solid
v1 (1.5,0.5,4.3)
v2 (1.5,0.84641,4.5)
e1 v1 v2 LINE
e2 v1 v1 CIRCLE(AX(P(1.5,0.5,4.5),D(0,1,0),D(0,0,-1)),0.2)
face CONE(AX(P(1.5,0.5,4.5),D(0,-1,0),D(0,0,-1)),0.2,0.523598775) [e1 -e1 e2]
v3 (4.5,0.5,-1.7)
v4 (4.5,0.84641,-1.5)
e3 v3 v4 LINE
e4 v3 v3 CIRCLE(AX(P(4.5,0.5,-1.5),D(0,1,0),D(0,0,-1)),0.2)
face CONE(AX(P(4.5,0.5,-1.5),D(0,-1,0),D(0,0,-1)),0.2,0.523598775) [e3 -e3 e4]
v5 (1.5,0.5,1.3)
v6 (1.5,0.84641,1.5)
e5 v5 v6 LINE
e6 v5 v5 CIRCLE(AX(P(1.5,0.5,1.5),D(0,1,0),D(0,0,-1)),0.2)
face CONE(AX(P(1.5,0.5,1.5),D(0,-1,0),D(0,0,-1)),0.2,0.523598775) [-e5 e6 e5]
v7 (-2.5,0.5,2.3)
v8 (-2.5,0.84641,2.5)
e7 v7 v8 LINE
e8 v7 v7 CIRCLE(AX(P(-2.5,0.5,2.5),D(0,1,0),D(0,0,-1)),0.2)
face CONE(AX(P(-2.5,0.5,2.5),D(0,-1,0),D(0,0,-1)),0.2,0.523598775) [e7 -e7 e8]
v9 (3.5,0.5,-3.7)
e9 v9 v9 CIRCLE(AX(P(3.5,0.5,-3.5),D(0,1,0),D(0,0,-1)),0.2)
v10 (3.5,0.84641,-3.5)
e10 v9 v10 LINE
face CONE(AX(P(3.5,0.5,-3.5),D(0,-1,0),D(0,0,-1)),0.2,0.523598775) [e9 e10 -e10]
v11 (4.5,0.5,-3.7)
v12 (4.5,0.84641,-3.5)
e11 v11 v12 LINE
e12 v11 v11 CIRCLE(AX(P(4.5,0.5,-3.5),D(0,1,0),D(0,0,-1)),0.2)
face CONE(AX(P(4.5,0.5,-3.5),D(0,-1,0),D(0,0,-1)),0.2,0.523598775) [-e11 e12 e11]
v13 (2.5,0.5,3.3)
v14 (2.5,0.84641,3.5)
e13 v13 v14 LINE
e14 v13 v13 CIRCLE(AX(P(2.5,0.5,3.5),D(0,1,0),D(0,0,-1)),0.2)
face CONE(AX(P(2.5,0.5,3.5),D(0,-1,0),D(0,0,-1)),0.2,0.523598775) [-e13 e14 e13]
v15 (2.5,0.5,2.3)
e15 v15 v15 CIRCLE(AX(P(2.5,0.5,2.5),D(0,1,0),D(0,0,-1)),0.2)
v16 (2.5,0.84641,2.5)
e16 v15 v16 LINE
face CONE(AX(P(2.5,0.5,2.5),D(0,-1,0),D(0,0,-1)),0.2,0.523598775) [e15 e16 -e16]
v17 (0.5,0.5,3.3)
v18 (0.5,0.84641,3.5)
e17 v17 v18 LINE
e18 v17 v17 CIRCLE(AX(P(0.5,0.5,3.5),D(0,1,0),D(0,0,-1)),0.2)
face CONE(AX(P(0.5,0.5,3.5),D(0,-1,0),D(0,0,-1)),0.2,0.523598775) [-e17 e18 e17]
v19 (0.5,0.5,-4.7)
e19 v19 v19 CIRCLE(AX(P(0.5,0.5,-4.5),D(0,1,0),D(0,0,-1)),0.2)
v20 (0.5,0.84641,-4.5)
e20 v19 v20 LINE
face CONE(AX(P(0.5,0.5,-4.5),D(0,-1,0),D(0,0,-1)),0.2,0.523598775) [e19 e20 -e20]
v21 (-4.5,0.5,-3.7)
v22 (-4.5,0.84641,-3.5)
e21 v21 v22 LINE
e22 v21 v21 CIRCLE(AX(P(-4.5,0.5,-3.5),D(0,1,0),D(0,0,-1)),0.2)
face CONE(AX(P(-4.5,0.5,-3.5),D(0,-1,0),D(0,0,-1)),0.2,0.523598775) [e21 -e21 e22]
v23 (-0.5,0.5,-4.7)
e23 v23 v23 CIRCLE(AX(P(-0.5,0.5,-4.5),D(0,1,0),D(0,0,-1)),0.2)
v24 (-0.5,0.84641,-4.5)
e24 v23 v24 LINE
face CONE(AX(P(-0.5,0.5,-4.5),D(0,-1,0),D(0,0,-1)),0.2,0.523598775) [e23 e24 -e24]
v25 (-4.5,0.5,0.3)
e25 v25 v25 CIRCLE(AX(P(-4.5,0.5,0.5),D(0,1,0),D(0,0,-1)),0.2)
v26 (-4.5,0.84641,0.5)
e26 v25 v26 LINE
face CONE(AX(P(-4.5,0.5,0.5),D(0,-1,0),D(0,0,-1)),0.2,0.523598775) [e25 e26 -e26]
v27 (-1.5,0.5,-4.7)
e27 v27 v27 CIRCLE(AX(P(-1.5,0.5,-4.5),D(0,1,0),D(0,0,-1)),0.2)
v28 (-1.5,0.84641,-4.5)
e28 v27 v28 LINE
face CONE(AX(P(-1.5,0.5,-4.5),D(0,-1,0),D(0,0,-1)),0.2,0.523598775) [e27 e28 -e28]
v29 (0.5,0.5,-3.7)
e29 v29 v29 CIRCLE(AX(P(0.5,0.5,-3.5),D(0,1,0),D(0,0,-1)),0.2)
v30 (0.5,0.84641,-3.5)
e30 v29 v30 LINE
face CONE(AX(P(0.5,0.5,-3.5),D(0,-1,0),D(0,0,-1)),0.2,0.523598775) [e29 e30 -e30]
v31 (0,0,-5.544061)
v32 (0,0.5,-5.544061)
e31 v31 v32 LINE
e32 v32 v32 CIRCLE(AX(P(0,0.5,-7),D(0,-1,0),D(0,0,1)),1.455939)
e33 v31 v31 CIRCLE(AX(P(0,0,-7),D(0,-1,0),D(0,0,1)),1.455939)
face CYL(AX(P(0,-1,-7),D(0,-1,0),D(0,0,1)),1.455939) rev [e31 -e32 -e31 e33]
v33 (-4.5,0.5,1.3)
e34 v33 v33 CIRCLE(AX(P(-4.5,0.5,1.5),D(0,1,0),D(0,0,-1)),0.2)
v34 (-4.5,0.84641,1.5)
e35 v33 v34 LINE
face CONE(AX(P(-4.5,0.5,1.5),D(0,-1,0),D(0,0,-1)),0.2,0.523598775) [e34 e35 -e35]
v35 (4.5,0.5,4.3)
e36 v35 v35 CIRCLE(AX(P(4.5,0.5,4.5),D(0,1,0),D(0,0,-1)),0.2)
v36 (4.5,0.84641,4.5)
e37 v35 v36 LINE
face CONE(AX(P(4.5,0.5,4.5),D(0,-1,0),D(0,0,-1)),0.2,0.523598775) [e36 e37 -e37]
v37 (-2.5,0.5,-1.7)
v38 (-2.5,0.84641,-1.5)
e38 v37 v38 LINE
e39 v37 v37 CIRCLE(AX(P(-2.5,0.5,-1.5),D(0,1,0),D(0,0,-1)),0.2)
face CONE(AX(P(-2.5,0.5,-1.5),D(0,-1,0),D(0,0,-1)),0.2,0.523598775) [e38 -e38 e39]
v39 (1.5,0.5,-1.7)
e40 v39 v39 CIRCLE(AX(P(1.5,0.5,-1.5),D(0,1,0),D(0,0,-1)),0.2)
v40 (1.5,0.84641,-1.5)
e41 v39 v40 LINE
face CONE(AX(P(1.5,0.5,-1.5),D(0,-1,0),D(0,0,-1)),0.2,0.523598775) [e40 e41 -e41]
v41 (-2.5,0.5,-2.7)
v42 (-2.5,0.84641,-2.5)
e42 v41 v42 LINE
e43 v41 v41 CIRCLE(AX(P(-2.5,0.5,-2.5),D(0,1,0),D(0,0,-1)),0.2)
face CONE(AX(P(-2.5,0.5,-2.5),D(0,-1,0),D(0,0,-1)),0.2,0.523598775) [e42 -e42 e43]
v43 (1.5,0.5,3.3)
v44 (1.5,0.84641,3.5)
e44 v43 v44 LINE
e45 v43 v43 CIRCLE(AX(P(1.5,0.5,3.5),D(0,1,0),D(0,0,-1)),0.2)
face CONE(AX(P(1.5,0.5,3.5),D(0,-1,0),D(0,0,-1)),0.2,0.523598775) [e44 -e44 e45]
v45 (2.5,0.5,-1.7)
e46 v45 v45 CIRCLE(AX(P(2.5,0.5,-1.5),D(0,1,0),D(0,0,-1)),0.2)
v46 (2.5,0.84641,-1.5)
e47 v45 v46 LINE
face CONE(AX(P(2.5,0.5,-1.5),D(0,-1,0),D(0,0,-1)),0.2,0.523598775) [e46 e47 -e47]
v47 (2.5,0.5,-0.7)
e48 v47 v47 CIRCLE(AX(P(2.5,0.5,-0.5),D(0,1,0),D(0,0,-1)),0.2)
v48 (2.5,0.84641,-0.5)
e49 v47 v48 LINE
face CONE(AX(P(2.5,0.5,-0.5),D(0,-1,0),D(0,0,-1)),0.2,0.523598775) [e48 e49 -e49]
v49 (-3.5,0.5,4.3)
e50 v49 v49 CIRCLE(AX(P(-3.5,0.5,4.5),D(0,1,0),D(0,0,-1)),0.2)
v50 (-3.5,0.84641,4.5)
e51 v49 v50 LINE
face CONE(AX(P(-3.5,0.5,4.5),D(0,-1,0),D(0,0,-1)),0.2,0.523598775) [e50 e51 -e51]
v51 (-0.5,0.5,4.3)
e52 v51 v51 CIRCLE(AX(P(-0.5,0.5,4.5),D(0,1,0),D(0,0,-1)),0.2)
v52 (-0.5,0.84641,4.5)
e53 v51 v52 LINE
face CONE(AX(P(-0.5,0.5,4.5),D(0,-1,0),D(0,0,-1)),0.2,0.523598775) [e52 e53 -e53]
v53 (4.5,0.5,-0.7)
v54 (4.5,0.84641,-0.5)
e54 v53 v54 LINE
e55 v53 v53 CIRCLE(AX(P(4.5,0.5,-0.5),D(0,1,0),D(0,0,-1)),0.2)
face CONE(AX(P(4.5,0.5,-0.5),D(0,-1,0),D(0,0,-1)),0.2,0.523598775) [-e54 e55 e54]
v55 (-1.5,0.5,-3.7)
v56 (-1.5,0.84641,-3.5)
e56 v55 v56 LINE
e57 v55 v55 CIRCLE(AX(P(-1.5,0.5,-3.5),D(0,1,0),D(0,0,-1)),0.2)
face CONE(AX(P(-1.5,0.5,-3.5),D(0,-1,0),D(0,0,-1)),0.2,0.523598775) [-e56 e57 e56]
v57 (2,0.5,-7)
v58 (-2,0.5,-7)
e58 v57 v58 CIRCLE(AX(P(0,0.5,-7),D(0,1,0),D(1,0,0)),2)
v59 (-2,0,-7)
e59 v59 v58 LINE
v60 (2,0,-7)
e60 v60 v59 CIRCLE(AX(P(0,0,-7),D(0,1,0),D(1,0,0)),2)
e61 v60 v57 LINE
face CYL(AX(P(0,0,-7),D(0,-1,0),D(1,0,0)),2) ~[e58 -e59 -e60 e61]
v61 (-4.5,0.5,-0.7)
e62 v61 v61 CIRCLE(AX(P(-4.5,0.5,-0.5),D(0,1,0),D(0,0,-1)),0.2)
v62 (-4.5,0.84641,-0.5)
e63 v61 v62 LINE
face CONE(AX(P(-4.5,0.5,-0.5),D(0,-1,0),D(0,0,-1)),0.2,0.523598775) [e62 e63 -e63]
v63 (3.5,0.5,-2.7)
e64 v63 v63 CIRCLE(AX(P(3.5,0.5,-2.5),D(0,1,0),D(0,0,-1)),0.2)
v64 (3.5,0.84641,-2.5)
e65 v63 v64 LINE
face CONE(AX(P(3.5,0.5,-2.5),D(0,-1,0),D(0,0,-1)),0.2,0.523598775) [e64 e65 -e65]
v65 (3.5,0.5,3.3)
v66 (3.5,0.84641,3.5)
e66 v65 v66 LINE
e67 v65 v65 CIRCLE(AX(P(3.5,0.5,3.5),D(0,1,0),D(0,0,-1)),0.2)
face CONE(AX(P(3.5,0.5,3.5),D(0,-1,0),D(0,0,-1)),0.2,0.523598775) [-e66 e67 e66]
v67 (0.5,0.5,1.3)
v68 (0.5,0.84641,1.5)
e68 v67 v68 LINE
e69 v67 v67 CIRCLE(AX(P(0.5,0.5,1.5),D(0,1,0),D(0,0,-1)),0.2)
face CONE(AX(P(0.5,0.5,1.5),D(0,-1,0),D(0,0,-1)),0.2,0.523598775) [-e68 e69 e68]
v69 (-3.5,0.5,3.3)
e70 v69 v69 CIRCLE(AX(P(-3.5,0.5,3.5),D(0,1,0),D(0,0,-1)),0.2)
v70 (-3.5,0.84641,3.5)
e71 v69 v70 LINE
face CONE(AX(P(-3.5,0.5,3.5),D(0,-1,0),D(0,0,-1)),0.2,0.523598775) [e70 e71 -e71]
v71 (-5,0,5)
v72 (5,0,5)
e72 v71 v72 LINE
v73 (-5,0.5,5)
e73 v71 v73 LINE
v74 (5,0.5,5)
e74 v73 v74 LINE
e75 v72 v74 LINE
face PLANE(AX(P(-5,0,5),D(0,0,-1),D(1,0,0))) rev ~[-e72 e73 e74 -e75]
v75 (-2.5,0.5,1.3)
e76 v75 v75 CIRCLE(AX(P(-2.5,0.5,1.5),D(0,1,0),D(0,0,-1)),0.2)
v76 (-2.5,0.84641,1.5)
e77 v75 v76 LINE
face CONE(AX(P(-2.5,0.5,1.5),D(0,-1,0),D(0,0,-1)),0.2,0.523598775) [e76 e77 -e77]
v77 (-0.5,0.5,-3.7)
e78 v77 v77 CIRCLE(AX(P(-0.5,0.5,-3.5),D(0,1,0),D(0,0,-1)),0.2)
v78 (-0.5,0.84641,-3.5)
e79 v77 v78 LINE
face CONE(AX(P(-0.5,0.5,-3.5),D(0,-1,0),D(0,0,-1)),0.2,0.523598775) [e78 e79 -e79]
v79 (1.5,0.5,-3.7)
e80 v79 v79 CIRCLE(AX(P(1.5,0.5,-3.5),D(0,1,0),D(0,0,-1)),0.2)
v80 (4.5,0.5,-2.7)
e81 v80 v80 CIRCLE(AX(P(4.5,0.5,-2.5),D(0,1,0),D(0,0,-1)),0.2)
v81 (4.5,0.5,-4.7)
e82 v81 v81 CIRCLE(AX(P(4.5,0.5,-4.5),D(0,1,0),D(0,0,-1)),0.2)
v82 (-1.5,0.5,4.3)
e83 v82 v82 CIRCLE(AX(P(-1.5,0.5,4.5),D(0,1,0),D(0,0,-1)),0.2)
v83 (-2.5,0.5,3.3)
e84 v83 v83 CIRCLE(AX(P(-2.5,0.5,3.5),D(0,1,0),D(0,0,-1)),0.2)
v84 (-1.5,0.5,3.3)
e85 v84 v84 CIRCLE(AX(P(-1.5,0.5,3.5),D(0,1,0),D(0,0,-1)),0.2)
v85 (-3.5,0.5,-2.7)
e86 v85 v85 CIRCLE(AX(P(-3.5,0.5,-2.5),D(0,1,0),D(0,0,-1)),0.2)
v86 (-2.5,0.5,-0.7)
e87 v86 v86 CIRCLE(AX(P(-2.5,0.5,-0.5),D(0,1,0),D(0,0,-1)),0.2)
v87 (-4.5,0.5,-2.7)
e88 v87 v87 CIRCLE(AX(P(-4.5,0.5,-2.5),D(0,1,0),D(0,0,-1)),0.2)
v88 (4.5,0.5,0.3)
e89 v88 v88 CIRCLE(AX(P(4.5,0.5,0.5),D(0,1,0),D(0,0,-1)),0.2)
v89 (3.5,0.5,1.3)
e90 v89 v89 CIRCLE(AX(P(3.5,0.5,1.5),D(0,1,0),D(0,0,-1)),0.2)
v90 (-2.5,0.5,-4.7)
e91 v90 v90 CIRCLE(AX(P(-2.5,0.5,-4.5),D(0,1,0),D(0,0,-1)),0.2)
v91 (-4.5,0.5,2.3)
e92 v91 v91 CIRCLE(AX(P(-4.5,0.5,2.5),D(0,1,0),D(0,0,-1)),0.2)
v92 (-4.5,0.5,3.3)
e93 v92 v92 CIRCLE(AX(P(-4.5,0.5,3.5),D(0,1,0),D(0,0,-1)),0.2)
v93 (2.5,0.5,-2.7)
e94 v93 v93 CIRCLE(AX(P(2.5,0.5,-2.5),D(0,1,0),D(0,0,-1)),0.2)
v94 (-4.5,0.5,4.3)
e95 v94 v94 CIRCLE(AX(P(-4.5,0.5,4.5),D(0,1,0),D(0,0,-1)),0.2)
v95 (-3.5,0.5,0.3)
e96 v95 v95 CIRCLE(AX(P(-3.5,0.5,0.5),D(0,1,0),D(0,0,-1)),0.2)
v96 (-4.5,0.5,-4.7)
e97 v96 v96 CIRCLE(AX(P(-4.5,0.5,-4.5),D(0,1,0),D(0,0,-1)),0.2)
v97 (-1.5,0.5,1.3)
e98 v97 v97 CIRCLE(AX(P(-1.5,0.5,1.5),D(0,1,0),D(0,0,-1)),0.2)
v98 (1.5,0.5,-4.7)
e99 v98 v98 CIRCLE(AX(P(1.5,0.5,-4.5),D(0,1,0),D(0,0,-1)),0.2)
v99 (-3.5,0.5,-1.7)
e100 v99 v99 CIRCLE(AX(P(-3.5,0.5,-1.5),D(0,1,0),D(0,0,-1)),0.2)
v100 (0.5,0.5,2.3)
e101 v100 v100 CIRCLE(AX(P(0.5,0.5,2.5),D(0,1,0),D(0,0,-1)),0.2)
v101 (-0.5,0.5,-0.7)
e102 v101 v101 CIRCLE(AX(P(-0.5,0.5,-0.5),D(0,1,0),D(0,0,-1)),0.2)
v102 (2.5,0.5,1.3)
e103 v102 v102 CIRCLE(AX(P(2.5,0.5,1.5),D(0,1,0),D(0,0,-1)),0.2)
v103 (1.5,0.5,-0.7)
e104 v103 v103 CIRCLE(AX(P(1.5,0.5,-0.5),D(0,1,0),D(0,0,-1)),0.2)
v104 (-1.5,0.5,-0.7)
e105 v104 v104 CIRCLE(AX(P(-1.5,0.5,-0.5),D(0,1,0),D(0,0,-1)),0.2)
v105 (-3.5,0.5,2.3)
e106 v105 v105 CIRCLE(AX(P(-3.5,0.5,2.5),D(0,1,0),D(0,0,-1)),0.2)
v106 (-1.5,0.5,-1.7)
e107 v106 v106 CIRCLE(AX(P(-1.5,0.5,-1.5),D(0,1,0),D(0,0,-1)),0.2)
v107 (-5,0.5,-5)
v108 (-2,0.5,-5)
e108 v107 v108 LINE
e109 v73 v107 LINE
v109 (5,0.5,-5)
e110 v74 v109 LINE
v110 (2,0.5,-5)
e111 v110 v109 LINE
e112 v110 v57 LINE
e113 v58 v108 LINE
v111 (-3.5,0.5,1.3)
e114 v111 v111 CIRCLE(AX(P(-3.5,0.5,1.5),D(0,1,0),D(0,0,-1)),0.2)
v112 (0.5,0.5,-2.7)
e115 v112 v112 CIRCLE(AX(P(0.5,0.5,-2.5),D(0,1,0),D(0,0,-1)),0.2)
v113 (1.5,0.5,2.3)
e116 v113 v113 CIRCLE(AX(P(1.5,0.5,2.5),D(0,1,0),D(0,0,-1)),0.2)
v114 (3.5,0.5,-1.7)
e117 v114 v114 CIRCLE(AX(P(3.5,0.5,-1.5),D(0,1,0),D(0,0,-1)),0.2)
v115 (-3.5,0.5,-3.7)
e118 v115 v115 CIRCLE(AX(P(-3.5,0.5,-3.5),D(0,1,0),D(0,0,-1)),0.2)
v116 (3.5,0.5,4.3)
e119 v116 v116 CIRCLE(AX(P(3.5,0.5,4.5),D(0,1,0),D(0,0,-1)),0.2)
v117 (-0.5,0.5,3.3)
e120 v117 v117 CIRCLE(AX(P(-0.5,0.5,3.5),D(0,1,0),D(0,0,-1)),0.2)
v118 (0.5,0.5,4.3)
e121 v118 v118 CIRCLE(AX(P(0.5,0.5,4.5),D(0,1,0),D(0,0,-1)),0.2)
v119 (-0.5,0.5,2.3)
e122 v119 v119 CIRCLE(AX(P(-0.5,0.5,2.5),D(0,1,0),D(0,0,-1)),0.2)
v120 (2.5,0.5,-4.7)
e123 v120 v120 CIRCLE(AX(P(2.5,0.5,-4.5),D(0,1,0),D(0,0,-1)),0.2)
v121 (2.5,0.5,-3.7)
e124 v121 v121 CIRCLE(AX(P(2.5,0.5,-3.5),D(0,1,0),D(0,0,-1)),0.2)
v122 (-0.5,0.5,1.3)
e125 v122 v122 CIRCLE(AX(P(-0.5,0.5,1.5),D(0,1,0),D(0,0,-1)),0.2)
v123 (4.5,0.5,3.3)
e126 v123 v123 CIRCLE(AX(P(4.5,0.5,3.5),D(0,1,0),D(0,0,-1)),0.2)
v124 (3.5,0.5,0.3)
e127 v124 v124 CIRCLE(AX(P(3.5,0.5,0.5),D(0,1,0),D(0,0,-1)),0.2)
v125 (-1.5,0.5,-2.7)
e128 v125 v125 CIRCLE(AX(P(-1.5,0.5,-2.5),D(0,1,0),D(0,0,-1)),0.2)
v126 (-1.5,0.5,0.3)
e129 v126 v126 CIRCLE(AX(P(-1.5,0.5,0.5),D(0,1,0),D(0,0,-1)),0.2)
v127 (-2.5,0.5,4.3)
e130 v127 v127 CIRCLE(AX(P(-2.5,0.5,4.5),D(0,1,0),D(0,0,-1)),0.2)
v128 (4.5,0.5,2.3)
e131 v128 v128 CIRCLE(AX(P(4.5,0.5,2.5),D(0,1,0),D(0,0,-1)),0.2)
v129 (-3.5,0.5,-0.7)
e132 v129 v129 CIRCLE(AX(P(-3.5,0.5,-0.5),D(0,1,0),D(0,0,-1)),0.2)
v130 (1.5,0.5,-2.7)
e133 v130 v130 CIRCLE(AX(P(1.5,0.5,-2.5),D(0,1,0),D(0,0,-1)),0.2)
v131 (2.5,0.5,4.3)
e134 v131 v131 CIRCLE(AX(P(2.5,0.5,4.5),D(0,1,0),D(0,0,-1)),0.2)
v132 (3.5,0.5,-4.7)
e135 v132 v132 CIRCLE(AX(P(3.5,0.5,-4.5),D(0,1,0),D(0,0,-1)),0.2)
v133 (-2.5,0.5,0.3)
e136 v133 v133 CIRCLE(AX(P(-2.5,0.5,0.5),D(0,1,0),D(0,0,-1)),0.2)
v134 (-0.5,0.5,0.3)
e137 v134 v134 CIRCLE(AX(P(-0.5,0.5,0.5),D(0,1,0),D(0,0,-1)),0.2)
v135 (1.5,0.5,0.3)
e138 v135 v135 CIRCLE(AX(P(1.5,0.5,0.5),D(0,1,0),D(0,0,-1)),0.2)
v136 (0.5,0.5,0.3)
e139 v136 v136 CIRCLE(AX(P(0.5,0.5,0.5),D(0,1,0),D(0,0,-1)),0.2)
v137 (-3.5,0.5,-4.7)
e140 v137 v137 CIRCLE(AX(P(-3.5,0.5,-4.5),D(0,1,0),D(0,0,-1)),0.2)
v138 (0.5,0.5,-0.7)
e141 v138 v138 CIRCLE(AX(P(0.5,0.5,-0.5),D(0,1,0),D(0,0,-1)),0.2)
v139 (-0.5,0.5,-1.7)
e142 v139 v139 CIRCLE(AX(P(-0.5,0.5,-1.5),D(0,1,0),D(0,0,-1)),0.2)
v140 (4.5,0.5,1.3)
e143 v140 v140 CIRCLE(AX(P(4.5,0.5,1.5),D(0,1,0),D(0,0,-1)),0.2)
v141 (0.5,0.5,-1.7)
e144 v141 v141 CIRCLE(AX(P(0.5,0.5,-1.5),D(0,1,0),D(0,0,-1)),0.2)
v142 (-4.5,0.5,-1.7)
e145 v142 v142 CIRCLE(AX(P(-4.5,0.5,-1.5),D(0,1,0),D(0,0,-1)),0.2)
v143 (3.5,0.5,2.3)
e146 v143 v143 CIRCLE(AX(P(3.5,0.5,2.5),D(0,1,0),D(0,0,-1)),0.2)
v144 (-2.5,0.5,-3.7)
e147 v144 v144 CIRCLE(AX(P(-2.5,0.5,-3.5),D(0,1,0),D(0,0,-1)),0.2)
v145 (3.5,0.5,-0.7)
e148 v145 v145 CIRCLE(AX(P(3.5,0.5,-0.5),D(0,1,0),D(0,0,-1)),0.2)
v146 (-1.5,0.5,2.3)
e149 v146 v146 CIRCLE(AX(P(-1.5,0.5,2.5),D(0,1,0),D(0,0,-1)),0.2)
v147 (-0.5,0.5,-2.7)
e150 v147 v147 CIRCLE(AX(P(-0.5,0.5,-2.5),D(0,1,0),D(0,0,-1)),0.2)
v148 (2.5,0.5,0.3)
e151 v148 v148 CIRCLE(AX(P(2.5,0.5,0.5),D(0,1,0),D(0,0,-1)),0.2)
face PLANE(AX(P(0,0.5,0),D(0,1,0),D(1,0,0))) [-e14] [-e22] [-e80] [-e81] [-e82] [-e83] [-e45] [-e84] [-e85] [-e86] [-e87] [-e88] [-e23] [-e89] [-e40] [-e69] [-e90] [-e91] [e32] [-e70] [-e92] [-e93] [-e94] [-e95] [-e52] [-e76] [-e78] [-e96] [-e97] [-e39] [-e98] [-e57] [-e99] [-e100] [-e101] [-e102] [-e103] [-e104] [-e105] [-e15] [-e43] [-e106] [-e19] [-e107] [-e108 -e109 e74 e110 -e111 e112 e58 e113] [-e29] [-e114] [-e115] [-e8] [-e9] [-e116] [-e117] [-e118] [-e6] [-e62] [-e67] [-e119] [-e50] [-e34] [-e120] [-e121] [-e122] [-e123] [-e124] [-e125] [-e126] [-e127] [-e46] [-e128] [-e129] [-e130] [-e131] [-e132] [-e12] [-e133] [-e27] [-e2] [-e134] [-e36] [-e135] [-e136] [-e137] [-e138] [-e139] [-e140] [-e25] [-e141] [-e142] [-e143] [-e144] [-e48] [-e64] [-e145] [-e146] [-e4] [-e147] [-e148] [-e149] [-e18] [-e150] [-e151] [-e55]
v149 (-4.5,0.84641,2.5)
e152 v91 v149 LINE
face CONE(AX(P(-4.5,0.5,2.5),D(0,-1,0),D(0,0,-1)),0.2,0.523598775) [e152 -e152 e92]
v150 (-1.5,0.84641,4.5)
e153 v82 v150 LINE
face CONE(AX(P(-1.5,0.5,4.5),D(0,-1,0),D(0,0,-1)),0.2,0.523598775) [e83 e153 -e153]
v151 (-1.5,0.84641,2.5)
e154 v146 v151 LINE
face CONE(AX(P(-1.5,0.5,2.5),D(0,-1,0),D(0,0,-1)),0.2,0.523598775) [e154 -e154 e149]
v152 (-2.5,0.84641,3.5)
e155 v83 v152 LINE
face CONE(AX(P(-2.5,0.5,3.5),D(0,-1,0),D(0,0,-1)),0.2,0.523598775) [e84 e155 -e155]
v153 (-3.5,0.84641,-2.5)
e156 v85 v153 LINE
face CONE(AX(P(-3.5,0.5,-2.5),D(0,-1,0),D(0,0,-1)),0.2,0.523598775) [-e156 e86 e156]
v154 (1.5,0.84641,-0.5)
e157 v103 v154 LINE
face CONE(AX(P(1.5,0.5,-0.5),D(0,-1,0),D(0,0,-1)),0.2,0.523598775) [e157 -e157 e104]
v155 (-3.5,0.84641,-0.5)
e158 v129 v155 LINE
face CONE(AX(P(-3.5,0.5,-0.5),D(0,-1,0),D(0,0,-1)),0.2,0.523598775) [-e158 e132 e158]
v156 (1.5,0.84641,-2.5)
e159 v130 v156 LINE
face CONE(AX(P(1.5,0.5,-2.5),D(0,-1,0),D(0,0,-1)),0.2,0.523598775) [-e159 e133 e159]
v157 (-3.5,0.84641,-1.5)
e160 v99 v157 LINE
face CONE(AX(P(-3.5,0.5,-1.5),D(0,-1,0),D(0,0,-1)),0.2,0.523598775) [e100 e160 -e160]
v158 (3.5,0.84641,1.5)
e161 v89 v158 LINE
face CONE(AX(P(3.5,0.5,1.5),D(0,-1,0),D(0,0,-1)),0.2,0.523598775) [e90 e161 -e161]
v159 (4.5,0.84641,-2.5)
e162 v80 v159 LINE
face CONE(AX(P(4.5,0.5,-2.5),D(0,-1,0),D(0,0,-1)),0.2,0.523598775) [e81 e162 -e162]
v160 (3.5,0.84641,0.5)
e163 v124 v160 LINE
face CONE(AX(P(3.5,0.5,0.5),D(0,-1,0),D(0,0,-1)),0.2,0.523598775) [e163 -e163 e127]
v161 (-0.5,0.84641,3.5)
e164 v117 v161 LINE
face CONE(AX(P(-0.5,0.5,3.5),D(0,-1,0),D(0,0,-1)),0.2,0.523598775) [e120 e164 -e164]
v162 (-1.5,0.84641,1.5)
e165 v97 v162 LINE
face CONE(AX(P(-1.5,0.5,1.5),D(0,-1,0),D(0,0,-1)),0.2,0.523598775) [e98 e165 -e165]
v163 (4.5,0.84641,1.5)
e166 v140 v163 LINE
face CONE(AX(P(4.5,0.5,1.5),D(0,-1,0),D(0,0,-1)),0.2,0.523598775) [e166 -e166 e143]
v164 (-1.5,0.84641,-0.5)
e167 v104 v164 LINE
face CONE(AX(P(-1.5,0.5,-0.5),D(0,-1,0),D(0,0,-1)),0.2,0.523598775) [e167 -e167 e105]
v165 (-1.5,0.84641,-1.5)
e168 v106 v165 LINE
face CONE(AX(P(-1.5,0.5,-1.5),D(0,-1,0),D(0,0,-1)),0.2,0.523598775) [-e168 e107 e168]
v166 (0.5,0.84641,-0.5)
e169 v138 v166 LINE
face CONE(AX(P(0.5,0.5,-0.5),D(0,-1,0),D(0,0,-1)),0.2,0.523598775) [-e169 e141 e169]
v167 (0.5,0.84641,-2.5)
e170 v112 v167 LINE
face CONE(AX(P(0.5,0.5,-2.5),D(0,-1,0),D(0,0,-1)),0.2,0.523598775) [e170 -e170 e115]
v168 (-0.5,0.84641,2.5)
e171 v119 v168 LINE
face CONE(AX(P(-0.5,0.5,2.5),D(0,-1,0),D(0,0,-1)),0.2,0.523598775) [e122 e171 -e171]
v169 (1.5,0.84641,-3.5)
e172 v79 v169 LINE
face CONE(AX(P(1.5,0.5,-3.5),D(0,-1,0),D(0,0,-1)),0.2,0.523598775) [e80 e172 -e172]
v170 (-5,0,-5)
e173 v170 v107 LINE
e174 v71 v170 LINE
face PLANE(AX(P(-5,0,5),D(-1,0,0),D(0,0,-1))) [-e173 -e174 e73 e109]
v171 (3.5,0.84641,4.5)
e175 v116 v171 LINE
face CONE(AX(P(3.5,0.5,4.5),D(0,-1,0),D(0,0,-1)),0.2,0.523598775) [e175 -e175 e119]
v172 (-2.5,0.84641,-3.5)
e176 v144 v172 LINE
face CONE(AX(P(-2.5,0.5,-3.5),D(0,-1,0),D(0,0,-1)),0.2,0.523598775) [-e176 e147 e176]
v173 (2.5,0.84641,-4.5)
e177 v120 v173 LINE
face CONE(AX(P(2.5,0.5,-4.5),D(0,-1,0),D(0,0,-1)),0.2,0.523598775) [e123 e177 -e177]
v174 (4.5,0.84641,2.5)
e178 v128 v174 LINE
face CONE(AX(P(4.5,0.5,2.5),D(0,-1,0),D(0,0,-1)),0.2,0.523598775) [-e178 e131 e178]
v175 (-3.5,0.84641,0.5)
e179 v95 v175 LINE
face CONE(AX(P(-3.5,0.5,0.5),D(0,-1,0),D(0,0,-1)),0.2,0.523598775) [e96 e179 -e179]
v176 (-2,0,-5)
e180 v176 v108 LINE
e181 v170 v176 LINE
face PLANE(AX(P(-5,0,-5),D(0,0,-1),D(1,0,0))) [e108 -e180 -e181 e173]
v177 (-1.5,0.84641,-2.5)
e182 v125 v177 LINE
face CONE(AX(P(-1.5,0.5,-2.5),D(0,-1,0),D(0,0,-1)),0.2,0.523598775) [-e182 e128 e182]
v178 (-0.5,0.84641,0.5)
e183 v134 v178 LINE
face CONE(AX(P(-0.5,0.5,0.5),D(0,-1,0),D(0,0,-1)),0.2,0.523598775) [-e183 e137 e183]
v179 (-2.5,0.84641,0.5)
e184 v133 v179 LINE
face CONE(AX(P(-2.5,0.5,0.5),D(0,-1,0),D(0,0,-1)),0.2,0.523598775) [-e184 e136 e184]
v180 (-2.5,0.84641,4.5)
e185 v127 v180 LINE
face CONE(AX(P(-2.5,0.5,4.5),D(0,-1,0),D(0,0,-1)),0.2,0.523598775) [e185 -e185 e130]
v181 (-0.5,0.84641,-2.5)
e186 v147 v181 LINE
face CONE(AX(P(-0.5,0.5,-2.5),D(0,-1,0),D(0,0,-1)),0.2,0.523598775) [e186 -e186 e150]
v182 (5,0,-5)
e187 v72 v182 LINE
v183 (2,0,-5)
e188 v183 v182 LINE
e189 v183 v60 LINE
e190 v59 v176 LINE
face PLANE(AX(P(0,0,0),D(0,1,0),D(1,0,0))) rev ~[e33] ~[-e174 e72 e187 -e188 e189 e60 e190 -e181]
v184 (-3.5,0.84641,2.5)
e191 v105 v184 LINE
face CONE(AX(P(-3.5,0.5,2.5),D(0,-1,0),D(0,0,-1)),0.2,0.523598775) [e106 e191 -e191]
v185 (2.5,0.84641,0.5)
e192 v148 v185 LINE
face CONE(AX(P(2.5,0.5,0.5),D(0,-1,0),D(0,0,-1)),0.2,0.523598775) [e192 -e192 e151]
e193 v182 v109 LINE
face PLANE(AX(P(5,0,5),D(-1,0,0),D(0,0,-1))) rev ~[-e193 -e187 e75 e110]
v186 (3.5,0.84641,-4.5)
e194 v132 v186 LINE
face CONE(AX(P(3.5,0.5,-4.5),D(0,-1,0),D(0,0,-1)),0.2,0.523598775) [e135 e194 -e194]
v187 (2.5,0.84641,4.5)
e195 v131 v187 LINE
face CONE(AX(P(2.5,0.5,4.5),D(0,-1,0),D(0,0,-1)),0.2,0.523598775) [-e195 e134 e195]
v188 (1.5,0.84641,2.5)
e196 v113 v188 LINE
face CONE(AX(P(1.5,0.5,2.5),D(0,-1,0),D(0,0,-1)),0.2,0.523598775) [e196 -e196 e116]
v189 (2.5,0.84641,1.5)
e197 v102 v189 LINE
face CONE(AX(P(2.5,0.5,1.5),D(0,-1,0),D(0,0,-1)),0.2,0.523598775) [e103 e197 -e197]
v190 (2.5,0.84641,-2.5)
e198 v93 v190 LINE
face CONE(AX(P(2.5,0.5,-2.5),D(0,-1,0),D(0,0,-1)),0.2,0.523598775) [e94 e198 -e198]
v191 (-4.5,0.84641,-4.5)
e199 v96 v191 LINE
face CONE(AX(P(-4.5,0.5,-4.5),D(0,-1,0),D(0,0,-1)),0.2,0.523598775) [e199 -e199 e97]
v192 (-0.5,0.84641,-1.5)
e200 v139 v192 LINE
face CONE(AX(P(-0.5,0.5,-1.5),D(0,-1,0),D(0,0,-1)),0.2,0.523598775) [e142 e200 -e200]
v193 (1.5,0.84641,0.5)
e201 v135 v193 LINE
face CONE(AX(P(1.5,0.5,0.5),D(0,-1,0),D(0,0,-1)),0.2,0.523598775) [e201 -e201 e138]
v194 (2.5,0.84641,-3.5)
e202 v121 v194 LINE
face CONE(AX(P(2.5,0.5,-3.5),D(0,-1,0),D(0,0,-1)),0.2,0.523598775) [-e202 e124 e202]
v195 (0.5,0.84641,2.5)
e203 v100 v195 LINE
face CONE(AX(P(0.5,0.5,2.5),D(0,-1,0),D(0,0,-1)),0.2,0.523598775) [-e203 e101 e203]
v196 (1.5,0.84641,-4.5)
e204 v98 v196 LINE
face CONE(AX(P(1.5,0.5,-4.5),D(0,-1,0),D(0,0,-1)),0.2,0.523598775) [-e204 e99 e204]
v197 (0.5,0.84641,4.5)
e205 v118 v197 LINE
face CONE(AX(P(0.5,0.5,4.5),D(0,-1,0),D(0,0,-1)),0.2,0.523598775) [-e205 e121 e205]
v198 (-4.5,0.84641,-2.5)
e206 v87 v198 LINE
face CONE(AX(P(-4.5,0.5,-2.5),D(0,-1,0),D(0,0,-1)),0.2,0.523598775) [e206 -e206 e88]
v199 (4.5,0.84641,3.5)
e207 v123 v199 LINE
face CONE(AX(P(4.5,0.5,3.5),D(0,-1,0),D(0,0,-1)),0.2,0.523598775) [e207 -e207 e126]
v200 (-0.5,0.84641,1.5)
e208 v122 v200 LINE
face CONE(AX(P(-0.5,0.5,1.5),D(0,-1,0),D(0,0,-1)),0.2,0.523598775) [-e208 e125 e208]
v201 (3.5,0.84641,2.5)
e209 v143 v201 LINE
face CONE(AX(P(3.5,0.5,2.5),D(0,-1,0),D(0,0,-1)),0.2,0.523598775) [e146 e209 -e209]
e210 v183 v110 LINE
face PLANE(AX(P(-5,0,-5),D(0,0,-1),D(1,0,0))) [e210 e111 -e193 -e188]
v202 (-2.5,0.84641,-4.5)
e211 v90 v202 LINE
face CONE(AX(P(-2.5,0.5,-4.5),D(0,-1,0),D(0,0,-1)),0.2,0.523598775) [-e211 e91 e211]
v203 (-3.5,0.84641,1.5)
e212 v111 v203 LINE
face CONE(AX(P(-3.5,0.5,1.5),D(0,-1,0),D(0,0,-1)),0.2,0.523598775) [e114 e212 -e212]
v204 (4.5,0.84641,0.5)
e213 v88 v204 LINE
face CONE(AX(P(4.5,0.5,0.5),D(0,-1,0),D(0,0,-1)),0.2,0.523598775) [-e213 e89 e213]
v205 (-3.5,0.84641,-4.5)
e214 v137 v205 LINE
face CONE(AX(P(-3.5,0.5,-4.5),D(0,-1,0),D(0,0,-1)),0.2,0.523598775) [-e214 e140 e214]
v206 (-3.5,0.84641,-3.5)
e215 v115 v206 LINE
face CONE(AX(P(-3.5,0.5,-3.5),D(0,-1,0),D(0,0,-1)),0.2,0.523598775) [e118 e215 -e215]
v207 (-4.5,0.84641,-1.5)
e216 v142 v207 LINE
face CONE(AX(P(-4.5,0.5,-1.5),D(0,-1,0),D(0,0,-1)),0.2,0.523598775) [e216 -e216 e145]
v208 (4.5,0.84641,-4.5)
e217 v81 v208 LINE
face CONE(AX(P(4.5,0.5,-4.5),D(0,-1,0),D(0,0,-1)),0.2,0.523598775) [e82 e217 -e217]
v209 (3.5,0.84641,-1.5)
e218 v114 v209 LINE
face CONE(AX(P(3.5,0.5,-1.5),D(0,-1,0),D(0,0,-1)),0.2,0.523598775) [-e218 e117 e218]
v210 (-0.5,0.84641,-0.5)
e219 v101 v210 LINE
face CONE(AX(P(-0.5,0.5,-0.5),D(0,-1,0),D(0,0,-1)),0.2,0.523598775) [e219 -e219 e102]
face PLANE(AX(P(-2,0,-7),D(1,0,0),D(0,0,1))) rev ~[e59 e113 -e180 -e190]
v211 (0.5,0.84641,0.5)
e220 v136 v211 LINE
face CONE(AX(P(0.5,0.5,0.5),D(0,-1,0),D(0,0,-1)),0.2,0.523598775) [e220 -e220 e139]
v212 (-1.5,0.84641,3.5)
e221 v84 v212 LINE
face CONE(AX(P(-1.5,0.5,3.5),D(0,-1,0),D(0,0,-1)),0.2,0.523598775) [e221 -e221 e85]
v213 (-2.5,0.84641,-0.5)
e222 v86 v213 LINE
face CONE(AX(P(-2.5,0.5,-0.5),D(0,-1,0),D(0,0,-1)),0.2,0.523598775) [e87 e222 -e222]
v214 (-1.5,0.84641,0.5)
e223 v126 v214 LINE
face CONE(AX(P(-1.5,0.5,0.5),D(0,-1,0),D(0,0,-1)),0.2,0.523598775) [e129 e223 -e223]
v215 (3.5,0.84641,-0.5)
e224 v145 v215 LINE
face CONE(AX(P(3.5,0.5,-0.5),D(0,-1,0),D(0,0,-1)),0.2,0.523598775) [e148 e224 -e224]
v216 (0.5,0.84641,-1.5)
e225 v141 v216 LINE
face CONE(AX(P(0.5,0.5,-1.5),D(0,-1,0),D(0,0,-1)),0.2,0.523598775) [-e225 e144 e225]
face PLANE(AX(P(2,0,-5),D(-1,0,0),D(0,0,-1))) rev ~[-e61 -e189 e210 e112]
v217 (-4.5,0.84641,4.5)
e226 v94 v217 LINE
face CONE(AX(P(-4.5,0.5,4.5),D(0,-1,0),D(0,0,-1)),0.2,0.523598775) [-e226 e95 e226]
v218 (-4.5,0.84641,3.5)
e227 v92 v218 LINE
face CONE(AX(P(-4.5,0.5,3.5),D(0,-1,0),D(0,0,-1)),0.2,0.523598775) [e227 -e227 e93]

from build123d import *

# Parameters (mm, degrees)
SKETCH1_W               = 10
SKETCH1_H               = 10
PLATE_DEPTH             = 0.5
BOSS_EXTRUDE3_DEPTH     = 0.5
CUT_EXTRUDE1_DEPTH      = 0.5
CUT_EXTRUDE1_DEPTH_BACK = 1.5
SKETCH5_R               = 1.455938962
LPATTERN1_COUNT         = 10
LPATTERN1_PITCH         = 1
LPATTERN1_COUNT_DIR2    = 10
LPATTERN1_PITCH_DIR2    = 1


with BuildPart() as part:
    # Sketch1 → Plate (new body)
    with BuildSketch(Plane(origin=(0, 0, 0), x_dir=(1, 0, 0), z_dir=(0, 1, 0))):
        Rectangle(SKETCH1_W, SKETCH1_H)
    extrude(amount=PLATE_DEPTH)

    # Sketch4 → Boss-Extrude3 (add)
    with BuildSketch(Plane(origin=(0, 0, 0), x_dir=(1, 0, 0), z_dir=(0, 1, 0))):
        with BuildLine():
            Line((-2, 7), (-2, 5))
            Line((-2, 5), (2, 5))
            Line((2, 5), (2, 7))
            ThreePointArc((2, 7), (0, 9), (-2, 7))
        make_face()
    extrude(amount=BOSS_EXTRUDE3_DEPTH)

    # Sketch5 → Cut-Extrude1 (cut, two sides: drawn at the far end of the back side and taken through both)
    with BuildSketch(Plane(origin=(0, 0.5, 0), x_dir=(1, 0, 0), z_dir=(0, 1, 0)).offset(-CUT_EXTRUDE1_DEPTH_BACK)):
        with Locations(Location((0, 7, 0), (0, 0, 270))):
            Circle(SKETCH5_R)
    extrude(amount=CUT_EXTRUDE1_DEPTH + CUT_EXTRUDE1_DEPTH_BACK, mode=Mode.SUBTRACT)

    # Cone cone 1 section (through the dimple's axis) → Cone (revolve)
    with BuildSketch(Plane(origin=(-4.5, 0.5, 4.5), x_dir=(0, 0, -1), z_dir=(1, 0, 0))):
        Polygon((0, 0), (0.2, 0), (0, 0.346410162), align=None)
    cone = revolve(axis=Axis((-4.5, 0.5, 4.5), (0, 1, 0)))

    # LPattern1: Cone 10 × 10
    with Locations(*[(i * LPATTERN1_PITCH, 0, -j * LPATTERN1_PITCH_DIR2) for i in range(LPATTERN1_COUNT) for j in range(LPATTERN1_COUNT_DIR2) if (i, j) != (0, 0)]):
        add(cone)


solid = part.part
